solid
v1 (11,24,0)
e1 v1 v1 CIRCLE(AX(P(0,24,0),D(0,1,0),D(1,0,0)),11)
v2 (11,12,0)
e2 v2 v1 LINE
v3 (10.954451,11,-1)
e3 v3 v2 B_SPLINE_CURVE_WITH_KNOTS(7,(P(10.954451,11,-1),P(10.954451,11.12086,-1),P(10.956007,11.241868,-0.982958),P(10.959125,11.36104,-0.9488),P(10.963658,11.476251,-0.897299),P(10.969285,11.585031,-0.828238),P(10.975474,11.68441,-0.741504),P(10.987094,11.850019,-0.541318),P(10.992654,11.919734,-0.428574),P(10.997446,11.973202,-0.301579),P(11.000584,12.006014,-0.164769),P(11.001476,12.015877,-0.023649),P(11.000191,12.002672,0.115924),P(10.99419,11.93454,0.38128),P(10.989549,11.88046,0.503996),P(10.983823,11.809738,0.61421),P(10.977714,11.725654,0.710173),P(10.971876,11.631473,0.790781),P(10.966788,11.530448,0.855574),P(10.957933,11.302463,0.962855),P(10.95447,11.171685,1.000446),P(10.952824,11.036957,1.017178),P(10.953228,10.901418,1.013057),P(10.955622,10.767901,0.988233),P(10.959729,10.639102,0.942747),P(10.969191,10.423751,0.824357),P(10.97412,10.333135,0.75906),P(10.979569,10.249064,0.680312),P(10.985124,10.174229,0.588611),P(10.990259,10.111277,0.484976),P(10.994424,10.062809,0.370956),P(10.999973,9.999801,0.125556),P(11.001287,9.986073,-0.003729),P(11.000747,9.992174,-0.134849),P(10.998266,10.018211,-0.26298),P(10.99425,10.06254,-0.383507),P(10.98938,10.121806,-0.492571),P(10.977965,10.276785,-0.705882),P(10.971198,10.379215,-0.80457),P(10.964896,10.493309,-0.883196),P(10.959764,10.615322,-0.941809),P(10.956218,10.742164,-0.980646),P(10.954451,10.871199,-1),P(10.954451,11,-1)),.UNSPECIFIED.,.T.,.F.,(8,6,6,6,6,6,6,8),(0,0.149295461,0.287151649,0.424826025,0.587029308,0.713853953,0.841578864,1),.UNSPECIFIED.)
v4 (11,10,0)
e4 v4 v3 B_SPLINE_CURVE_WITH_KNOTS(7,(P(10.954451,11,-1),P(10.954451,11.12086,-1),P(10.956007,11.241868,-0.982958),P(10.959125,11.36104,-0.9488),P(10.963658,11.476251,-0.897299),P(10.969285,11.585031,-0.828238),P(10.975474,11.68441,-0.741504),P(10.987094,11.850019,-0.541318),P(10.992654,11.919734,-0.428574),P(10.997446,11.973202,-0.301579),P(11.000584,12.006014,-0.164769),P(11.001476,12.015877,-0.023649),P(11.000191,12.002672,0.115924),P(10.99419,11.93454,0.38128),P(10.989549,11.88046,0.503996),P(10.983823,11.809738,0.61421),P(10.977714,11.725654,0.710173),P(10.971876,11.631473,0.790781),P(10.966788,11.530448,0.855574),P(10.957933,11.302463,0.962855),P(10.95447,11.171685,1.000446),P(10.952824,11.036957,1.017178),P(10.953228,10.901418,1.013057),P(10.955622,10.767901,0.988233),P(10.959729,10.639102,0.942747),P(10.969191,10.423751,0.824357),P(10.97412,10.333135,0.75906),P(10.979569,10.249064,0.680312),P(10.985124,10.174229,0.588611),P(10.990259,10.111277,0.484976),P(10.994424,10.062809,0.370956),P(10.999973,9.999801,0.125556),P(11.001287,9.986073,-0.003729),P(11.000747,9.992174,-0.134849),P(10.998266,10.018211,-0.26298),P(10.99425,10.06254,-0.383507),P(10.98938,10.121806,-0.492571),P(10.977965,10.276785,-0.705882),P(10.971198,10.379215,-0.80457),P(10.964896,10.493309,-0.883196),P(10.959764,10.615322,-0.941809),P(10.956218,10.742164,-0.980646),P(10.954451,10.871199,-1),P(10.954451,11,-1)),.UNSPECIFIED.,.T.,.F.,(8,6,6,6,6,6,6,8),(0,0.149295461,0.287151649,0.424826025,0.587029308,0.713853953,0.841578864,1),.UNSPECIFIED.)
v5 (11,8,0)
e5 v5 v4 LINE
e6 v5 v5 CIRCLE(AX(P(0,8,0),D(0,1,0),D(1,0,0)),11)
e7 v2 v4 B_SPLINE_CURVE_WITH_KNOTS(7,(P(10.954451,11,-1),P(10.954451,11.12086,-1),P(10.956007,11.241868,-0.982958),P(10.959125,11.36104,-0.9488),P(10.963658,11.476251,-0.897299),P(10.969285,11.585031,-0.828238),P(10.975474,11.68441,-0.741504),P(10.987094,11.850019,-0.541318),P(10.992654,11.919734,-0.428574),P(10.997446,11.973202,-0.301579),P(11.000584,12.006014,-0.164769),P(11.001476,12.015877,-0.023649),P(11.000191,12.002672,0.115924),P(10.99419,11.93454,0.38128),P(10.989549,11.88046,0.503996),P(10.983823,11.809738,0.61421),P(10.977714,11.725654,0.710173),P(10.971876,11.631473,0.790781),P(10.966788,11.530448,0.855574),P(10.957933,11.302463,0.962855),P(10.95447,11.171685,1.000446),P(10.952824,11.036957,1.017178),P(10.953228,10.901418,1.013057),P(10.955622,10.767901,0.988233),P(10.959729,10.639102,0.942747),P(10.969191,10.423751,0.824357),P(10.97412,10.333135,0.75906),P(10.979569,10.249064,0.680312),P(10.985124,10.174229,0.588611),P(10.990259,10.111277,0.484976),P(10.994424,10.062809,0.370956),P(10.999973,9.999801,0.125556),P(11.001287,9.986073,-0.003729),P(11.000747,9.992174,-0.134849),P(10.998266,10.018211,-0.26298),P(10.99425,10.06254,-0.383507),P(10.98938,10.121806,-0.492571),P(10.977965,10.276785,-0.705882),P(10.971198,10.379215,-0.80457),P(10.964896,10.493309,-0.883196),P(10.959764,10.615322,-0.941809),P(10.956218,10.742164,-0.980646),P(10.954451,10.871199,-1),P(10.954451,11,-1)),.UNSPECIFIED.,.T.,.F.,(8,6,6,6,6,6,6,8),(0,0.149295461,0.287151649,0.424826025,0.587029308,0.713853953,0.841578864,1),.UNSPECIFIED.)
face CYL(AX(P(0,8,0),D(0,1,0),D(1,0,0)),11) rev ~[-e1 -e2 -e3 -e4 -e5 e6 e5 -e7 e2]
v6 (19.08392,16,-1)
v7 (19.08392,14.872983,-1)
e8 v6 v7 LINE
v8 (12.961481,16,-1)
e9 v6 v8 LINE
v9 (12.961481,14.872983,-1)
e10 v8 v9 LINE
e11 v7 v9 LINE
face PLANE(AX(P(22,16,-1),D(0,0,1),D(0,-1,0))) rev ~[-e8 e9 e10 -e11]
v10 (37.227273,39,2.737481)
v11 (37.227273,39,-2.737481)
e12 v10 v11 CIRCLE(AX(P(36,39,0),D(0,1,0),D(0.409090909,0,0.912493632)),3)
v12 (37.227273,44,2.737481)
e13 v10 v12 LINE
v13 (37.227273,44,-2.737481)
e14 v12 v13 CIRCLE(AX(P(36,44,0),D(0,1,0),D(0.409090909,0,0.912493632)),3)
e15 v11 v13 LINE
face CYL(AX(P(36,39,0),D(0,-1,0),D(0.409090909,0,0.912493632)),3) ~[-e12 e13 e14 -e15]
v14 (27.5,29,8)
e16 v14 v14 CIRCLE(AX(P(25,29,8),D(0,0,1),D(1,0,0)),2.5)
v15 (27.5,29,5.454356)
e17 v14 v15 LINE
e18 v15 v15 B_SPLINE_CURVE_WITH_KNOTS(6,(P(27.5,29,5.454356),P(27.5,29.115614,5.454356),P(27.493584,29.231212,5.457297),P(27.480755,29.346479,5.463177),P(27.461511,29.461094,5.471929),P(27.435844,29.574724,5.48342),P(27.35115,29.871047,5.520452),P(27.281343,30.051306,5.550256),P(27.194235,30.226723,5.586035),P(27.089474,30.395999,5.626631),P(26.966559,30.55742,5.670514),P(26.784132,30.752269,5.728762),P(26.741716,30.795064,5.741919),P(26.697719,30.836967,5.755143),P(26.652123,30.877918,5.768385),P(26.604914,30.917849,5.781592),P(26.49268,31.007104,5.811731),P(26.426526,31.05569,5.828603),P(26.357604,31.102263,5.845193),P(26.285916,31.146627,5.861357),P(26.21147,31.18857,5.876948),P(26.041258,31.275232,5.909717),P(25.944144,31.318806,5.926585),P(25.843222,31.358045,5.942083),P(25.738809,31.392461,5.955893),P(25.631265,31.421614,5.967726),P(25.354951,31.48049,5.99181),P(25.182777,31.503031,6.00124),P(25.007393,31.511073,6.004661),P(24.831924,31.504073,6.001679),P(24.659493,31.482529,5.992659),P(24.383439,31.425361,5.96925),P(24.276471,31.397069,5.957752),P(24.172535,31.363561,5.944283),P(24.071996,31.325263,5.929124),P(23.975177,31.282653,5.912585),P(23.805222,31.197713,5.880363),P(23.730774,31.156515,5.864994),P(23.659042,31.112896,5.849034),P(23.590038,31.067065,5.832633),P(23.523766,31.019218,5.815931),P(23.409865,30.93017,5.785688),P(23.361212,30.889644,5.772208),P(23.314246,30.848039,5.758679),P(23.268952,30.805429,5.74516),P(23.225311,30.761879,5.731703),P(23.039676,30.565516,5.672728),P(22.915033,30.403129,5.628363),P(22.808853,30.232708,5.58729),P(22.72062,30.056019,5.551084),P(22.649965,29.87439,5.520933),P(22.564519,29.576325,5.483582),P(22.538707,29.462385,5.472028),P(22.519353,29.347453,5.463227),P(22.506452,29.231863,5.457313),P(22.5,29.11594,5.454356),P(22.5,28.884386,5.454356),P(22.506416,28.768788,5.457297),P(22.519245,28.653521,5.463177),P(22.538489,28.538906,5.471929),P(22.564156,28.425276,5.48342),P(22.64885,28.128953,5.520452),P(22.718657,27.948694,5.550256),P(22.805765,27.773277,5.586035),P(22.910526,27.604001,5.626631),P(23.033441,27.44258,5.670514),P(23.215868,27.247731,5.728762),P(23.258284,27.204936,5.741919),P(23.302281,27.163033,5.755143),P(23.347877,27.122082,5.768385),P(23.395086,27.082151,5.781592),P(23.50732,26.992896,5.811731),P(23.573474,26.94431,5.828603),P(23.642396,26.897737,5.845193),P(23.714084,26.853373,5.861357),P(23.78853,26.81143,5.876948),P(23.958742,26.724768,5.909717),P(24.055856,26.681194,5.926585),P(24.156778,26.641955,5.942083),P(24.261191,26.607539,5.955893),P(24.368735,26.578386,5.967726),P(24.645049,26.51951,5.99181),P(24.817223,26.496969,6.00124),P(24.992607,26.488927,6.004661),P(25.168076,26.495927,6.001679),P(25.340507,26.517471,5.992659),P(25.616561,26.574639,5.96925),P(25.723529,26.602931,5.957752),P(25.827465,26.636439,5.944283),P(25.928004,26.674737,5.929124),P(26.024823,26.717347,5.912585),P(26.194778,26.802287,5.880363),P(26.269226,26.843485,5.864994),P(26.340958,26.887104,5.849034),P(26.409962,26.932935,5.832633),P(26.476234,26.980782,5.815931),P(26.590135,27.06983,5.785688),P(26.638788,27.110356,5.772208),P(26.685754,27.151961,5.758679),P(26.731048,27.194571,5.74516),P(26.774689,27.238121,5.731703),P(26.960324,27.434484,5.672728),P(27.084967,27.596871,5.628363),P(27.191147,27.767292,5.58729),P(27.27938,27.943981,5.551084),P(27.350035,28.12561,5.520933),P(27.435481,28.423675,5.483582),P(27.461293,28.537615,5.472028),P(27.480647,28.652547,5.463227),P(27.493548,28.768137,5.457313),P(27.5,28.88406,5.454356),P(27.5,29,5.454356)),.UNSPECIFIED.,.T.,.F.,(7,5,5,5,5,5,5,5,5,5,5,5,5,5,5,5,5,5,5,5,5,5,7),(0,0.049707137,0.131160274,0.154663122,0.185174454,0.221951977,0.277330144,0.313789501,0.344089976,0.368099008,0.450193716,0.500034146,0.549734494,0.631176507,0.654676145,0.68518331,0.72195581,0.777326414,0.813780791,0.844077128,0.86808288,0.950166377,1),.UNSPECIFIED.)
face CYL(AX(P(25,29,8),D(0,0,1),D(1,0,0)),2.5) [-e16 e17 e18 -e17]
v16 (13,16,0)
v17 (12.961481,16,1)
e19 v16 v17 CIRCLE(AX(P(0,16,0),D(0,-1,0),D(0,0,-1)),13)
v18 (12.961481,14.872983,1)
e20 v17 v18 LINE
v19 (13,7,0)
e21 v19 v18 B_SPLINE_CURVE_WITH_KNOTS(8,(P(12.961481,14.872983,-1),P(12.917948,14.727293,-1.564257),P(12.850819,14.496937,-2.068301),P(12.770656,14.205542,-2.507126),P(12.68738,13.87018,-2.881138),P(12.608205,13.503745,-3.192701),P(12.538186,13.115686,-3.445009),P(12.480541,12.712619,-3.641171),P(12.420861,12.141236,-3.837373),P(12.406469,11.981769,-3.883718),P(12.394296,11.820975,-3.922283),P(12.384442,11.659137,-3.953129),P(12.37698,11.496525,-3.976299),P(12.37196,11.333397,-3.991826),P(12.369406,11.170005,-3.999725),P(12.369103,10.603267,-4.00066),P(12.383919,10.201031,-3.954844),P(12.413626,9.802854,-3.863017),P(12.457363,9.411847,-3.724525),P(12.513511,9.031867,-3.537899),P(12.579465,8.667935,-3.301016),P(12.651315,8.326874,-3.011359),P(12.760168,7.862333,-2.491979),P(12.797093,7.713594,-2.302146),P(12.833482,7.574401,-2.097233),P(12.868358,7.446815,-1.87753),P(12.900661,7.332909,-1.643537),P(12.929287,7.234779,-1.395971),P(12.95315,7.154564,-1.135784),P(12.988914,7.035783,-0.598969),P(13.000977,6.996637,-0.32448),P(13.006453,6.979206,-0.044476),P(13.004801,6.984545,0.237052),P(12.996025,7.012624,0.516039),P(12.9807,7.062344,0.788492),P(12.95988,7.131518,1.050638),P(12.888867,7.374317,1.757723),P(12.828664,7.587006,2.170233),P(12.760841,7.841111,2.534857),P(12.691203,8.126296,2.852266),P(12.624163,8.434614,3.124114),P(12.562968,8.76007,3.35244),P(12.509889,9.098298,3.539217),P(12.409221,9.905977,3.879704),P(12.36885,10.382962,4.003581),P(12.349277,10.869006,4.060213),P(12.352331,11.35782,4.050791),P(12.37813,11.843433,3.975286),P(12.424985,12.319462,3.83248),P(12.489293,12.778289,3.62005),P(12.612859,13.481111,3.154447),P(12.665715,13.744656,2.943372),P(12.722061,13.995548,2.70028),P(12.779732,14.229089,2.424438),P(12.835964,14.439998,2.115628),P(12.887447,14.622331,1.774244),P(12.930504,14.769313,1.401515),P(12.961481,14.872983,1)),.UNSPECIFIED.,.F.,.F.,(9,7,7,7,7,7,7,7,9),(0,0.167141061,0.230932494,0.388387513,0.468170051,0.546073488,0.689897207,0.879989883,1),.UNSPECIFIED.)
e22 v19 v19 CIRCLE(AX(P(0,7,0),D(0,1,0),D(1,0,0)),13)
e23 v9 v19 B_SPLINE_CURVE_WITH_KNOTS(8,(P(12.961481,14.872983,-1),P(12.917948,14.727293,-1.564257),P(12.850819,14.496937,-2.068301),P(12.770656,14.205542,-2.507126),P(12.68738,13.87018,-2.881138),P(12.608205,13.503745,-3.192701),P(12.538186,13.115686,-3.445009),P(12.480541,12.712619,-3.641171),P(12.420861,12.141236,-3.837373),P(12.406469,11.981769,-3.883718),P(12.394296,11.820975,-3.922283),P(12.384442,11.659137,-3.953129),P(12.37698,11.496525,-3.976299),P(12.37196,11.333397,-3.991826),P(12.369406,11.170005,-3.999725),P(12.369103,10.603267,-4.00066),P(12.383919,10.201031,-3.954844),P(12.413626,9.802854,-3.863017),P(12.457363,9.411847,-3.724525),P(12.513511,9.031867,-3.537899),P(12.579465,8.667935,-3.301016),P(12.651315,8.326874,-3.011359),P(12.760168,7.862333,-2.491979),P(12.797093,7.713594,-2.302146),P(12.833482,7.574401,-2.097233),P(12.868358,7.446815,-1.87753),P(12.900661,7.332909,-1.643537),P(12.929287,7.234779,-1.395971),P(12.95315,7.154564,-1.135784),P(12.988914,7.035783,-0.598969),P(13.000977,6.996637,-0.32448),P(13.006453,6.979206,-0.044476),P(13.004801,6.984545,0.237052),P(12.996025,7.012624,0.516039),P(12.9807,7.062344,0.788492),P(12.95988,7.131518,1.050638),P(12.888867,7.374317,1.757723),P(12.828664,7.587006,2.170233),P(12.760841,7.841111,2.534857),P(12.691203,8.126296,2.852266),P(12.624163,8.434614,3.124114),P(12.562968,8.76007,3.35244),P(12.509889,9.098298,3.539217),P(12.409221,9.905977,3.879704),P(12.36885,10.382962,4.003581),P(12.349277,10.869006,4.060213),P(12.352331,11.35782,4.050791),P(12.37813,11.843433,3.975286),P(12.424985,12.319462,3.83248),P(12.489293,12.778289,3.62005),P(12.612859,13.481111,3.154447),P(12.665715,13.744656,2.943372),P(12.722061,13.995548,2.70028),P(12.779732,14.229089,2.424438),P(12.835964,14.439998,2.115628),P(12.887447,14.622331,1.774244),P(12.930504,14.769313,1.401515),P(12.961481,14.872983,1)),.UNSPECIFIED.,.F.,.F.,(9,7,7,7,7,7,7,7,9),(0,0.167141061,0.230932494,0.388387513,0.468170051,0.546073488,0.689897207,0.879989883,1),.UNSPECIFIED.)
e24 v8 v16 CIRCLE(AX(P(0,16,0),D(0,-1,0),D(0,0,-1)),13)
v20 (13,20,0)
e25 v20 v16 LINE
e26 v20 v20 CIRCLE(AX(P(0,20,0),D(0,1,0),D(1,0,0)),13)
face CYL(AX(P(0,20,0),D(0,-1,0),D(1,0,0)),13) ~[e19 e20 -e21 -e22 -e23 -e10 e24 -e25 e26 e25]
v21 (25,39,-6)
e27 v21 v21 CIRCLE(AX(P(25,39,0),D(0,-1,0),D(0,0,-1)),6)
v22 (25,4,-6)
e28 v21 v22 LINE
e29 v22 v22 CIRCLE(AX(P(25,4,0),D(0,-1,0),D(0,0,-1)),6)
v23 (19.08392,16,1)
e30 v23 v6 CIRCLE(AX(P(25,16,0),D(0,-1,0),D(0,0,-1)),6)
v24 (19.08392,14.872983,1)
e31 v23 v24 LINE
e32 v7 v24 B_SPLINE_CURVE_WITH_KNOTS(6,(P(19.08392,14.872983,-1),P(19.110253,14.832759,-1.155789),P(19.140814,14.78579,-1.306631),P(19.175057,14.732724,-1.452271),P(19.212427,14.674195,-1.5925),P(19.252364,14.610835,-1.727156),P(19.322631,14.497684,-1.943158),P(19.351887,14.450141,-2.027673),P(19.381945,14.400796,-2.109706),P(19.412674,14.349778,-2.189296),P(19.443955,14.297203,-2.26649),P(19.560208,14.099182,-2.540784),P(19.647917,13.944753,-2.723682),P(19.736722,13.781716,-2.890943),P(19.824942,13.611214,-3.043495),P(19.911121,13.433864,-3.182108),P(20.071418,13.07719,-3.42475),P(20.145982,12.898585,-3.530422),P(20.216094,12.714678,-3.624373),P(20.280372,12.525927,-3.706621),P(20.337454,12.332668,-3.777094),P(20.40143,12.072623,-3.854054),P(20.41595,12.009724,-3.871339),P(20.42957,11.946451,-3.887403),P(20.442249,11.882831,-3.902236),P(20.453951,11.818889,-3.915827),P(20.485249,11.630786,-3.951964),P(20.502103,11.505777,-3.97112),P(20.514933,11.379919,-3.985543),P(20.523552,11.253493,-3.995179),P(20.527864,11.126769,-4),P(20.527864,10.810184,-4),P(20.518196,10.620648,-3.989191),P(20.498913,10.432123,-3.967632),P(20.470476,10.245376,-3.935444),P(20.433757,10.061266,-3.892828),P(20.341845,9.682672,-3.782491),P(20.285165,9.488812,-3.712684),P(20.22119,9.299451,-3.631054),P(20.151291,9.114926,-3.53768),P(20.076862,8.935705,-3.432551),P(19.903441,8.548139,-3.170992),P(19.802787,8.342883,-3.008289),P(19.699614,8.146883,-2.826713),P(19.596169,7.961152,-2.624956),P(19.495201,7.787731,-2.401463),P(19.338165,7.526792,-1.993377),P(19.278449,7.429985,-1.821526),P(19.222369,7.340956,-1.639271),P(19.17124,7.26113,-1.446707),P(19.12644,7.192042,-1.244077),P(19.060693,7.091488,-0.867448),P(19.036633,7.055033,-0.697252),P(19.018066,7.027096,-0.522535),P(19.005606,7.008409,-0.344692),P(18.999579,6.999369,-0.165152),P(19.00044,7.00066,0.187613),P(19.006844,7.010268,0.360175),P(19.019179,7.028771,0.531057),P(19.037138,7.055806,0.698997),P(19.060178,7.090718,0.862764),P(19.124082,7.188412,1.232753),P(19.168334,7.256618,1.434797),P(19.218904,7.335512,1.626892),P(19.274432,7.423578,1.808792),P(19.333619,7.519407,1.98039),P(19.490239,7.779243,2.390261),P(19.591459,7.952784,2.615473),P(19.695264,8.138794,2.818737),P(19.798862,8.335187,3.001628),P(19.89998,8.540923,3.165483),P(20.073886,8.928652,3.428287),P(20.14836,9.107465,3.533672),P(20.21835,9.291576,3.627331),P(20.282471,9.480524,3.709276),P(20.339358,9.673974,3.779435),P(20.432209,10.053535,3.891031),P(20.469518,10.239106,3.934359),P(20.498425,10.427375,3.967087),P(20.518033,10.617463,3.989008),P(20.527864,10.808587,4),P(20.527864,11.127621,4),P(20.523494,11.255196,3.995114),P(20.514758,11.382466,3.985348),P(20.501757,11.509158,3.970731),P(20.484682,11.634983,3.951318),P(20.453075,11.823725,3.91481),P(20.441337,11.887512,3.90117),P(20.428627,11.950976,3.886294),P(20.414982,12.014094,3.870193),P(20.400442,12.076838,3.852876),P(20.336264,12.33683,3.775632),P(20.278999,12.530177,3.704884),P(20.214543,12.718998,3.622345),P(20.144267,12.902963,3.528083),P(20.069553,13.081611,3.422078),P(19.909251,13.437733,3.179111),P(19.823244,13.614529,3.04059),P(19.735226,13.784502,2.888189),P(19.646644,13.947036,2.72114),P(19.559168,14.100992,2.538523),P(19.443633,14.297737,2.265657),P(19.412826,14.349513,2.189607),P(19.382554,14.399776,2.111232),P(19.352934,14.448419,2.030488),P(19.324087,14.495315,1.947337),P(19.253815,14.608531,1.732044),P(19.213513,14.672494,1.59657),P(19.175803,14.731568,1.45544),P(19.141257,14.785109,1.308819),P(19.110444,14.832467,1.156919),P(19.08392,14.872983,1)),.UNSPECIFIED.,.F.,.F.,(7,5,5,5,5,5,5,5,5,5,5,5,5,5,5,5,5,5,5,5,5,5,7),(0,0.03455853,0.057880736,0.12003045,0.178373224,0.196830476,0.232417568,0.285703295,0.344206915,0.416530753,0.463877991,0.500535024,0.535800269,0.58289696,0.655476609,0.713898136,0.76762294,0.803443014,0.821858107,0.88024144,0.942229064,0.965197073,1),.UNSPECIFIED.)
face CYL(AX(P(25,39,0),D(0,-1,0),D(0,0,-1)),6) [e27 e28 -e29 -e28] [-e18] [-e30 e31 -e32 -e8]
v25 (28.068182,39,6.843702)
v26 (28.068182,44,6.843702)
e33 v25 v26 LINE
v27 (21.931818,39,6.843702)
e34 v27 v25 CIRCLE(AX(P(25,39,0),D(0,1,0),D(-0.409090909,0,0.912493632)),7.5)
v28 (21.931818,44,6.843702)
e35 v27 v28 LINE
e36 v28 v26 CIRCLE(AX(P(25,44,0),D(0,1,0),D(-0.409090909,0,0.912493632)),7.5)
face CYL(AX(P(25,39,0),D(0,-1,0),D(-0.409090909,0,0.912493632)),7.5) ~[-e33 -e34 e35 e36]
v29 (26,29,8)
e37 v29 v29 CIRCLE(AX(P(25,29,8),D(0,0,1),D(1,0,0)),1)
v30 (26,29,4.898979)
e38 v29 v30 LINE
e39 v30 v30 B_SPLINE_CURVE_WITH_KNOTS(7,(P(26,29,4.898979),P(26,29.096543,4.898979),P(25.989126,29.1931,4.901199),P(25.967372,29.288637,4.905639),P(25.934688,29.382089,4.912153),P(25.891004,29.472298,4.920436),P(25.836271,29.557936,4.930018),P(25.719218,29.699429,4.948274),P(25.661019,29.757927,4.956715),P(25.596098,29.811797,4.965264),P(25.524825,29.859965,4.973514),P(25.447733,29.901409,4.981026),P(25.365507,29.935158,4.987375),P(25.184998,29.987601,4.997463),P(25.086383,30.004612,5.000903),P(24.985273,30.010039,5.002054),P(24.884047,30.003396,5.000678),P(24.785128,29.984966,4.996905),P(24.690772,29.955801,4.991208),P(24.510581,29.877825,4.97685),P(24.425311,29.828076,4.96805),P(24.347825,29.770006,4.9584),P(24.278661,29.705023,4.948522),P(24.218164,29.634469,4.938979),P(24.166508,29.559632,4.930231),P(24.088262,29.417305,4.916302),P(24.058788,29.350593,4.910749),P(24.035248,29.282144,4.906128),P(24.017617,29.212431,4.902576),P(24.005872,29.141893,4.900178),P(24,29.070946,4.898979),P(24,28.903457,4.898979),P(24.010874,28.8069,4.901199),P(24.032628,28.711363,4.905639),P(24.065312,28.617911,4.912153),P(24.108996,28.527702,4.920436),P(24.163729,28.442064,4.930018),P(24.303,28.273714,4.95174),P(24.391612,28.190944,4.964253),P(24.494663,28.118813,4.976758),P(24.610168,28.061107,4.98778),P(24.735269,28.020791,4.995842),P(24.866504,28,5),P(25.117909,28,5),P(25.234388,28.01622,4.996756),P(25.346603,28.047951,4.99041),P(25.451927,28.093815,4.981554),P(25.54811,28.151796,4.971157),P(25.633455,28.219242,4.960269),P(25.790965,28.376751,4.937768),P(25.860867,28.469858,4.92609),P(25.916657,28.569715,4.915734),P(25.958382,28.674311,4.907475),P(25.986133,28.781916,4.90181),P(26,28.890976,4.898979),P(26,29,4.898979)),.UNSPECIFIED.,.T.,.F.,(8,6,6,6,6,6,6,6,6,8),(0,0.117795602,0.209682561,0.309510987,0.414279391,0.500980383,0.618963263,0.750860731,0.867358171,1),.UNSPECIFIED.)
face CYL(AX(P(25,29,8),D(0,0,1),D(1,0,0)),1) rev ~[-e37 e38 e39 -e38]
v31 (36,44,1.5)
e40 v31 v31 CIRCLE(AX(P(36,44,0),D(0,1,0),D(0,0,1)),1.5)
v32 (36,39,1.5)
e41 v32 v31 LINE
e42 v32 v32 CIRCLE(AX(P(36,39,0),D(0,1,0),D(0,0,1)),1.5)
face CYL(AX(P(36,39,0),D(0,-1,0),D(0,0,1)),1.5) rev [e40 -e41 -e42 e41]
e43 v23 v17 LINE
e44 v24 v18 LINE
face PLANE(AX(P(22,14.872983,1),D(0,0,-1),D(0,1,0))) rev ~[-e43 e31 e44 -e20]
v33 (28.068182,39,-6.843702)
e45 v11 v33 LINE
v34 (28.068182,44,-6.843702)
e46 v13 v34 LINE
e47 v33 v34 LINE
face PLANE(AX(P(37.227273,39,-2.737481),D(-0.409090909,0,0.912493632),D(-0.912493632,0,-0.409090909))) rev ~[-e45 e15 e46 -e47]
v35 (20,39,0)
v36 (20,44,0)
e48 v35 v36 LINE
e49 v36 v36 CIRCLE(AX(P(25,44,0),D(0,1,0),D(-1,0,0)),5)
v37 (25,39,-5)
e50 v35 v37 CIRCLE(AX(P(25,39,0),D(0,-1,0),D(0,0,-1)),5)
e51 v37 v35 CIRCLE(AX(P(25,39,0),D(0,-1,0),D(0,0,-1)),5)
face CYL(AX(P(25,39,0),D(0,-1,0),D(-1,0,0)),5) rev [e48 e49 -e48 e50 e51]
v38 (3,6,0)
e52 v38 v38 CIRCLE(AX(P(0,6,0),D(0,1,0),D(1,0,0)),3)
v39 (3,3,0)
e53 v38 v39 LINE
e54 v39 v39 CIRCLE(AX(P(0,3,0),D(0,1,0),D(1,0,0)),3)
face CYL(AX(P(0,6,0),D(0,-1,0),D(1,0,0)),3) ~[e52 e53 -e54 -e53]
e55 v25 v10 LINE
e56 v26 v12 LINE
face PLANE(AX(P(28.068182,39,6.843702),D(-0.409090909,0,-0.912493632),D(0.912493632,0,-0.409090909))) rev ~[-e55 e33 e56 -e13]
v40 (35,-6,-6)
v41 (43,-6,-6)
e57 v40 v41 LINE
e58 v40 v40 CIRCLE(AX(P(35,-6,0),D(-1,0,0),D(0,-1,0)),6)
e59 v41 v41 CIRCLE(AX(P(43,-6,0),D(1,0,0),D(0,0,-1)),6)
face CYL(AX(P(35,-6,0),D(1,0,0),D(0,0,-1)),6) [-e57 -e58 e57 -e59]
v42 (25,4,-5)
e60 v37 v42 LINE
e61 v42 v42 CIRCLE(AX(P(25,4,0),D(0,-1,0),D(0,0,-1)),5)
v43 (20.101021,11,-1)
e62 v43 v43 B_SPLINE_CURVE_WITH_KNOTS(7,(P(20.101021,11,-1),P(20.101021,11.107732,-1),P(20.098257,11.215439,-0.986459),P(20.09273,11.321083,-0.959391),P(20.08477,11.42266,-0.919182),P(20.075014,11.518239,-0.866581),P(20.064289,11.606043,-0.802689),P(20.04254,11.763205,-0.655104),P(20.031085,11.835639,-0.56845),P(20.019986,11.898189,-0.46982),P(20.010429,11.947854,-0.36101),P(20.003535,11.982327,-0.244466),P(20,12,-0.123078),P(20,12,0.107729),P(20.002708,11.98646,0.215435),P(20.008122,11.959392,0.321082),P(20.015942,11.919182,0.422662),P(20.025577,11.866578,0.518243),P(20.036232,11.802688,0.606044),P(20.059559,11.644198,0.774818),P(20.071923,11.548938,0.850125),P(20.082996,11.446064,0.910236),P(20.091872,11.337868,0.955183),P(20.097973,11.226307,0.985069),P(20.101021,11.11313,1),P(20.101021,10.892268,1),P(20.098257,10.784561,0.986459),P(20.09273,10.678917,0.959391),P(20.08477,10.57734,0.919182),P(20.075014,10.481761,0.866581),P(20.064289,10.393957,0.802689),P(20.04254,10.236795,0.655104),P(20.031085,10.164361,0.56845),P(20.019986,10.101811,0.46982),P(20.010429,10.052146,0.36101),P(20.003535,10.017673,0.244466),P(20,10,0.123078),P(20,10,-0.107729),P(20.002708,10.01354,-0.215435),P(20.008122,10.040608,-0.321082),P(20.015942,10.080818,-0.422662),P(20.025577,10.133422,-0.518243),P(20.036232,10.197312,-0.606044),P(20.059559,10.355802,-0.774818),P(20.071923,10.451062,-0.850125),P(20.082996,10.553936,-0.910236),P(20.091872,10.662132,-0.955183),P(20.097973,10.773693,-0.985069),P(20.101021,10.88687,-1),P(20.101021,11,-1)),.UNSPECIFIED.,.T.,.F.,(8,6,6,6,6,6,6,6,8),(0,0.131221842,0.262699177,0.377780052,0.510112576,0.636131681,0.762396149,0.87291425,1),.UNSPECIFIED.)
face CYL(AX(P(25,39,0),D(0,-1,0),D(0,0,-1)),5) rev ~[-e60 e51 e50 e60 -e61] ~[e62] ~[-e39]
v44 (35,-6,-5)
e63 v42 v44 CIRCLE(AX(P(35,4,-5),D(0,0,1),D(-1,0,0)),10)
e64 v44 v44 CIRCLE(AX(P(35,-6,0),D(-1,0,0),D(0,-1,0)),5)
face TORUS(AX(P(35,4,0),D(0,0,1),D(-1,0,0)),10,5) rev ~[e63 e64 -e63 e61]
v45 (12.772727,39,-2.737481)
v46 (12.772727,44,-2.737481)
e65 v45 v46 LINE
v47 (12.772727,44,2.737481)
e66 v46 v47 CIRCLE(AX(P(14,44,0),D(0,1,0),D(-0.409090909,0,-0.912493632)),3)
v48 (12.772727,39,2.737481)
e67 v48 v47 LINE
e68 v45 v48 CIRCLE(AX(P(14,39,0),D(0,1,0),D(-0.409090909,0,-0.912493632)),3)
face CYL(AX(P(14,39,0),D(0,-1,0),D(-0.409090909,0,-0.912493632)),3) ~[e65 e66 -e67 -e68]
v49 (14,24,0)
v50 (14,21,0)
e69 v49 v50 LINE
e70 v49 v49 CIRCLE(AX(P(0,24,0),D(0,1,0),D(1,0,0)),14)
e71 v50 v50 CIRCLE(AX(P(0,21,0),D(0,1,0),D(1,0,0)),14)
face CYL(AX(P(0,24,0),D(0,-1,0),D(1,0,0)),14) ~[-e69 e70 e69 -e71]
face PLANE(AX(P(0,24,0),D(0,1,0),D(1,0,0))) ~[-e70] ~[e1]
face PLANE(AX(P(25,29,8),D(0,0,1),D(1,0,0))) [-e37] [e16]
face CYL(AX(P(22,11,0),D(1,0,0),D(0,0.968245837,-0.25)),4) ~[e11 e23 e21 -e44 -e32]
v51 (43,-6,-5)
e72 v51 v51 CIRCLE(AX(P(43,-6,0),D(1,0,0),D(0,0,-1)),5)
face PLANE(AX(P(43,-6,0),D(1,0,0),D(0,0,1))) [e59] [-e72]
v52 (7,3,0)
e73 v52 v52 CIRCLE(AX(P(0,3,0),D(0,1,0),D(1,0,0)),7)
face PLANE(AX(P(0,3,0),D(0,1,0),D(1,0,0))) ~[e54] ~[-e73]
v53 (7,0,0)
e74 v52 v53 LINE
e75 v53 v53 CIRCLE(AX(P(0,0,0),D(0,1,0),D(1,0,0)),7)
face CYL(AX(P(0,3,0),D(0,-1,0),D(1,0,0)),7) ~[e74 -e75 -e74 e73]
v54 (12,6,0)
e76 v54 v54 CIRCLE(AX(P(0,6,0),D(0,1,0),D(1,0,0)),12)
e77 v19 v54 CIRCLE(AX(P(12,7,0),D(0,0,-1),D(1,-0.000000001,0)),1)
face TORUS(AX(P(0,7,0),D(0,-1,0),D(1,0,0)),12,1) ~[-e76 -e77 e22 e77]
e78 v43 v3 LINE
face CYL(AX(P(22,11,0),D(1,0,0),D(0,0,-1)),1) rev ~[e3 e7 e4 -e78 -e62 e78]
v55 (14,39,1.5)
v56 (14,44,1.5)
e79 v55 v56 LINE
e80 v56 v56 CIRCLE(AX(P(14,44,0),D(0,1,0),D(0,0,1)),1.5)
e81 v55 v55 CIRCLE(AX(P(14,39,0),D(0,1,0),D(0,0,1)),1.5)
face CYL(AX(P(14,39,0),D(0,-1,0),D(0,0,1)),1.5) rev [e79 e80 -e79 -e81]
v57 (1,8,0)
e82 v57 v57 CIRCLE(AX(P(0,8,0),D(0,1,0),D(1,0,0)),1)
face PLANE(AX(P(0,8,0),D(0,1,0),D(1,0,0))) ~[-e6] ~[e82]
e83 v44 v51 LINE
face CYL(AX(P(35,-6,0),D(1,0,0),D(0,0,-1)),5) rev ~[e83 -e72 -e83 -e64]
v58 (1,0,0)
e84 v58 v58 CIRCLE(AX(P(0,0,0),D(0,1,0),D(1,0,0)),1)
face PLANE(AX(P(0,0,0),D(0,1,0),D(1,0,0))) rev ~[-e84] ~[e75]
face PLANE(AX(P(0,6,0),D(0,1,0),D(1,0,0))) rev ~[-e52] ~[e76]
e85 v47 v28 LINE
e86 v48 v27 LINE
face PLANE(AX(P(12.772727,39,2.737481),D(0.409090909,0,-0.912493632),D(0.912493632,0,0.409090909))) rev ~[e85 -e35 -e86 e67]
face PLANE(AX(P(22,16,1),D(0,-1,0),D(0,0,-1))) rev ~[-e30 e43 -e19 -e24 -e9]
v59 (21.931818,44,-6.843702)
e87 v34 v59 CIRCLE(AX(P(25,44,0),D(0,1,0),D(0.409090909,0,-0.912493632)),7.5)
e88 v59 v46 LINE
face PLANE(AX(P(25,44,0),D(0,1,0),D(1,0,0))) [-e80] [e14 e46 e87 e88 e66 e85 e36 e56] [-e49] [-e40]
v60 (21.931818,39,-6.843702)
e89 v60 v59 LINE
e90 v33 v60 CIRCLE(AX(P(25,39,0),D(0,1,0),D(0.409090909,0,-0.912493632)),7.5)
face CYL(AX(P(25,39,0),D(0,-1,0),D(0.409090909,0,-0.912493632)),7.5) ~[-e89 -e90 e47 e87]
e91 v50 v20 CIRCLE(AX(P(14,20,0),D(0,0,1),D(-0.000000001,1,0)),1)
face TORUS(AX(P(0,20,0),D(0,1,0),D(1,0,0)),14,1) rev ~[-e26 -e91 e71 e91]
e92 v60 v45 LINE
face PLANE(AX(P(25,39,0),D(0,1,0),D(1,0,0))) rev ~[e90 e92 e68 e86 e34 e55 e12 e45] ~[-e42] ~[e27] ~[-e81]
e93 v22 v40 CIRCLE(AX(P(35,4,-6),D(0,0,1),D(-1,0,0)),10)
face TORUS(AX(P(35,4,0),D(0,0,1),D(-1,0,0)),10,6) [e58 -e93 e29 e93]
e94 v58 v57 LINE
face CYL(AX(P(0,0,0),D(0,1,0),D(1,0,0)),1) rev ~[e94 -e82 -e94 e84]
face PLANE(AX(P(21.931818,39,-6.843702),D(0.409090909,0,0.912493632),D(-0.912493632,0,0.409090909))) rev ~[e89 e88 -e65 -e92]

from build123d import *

# Parameters (mm, degrees)
BOSS_EXTRUDE1_REACH      = 38
BOSS_EXTRUDE1_END_RADIUS = 13
SWEEP1_PROFILE_R         = 6
CUT_SWEEP1_PROFILE_R     = 5
CUT_EXTRUDE7_REACH       = 38
CUT_EXTRUDE7_END_RADIUS  = 11
SKETCH111_R              = 1
SKETCH112_R              = 5
SKETCH112_R_2            = 1.5
BOSS_EXTRUDE2_DEPTH      = 5
BOSS_EXTRUDE3_REACH      = 24
BOSS_EXTRUDE3_END_RADIUS = 6
SKETCH113_R              = 2.5
CUT_EXTRUDE8_REACH       = 24
CUT_EXTRUDE8_END_RADIUS  = 5
SKETCH114_R              = 1


with BuildPart() as part:
    # Sketch1 → Revolve1 (revolve)
    with BuildSketch(Plane.XY):
        with BuildLine():
            Line((11, 8), (11, 24))
            Line((11, 24), (14, 24))
            Line((14, 24), (14, 21))
            ThreePointArc((14, 21), (13.292893219, 20.707106781), (13, 20))
            Line((13, 20), (13, 7))
            ThreePointArc((13, 7), (12.707106781, 6.292893219), (12, 6))
            Line((12, 6), (3, 6))
            Line((3, 6), (3, 3))
            Line((3, 3), (7, 3))
            Line((7, 3), (7, 0))
            Line((7, 0), (1, 0))
            Line((1, 0), (1, 8))
            Line((1, 8), (11, 8))
        make_face()
    revolve(axis=Axis((0, -17.809326976, 0), (0, 1, 0)))

    # Boss-Extrude1: up to this cylinder (the profile starts outside it)
    boss_extrude1_end = Plane(origin=(0, 11.178288, 0), z_dir=(0, -1, 0)) * Cylinder(BOSS_EXTRUDE1_END_RADIUS, 103, mode=Mode.PRIVATE)
    # Sketch43 → Boss-Extrude1 (add, up to the surface)
    with BuildSketch(Plane(origin=(22, 0, 0), x_dir=(0, 0, -1), z_dir=(1, 0, 0)), mode=Mode.PRIVATE) as boss_extrude1_sk1:
        with BuildLine():
            Line((-1, 16), (1, 16))
            Line((1, 16), (1, 14.872983346))
            ThreePointArc((1, 14.872983346), (0, 7), (-1, 14.872983346))
            Line((-1, 14.872983346), (-1, 16))
        make_face()
    boss_extrude1_tool1 = extrude(boss_extrude1_sk1.sketch, amount=-BOSS_EXTRUDE1_REACH, mode=Mode.PRIVATE) - boss_extrude1_end
    add(boss_extrude1_tool1.solids().sort_by_distance((22, 11.178288, 0))[0])

    # Sweep1: sweep along a path in Sketch45
    with BuildLine(Plane.XY) as sweep1_path:
        Line((25, 39), (25, 4))
        ThreePointArc((25, 4), (27.928932188, -3.071067812), (35, -6))
        Line((35, -6), (43, -6))
    # Sweep1 profile (on start of the path) → Sweep1 (sweep)
    with BuildSketch(Plane(origin=(25, 39, 0), x_dir=(0, 0, -1), z_dir=(0, -1, 0))):
        Circle(SWEEP1_PROFILE_R)
    sweep(path=sweep1_path.line)

    # Cut-Sweep1: sweep along a path in Sketch45_2
    with BuildLine(Plane.XY) as cut_sweep1_path:
        Line((25, 39), (25, 4))
        ThreePointArc((25, 4), (27.928932188, -3.071067812), (35, -6))
        Line((35, -6), (43, -6))
    # Cut-Sweep1 profile (on start of the path) → Cut-Sweep1 (sweep, cut)
    with BuildSketch(Plane(origin=(25, 39, 0), x_dir=(0, 0, -1), z_dir=(0, -1, 0))):
        Circle(CUT_SWEEP1_PROFILE_R)
    sweep(path=cut_sweep1_path.line, mode=Mode.SUBTRACT)

    # Cut-Extrude7: up to this cylinder (the profile starts outside it)
    cut_extrude7_end = Plane(origin=(0, 11, 0), z_dir=(0, -1, 0)) * Cylinder(CUT_EXTRUDE7_END_RADIUS, 99, mode=Mode.PRIVATE)
    # Sketch111 → Cut-Extrude7 (cut, up to the surface)
    with BuildSketch(Plane(origin=(22, 0, 0), x_dir=(0, 0, -1), z_dir=(1, 0, 0)), mode=Mode.PRIVATE) as cut_extrude7_sk1:
        with Locations((0, 11)):
            Circle(SKETCH111_R)
    cut_extrude7_tool1 = extrude(cut_extrude7_sk1.sketch, amount=-CUT_EXTRUDE7_REACH, mode=Mode.PRIVATE) - cut_extrude7_end
    add(cut_extrude7_tool1.solids().sort_by_distance((22, 11, 0))[0], mode=Mode.SUBTRACT)

    # Sketch112 → Boss-Extrude2 (add)
    with BuildSketch(Plane(origin=(0, 39, 0), x_dir=(1, 0, 0), z_dir=(0, 1, 0))):
        with BuildLine():
            Line((37.227272727, 2.737480895), (28.068181818, 6.843702239))
            ThreePointArc((28.068181818, 6.843702239), (25, 7.5), (21.931818182, 6.843702239))
            Line((21.931818182, 6.843702239), (12.772727273, 2.737480895))
            ThreePointArc((12.772727273, 2.737480895), (11, 0), (12.772727273, -2.737480895))
            Line((12.772727273, -2.737480895), (21.931818182, -6.843702239))
            ThreePointArc((21.931818182, -6.843702239), (25, -7.5), (28.068181818, -6.843702239))
            Line((28.068181818, -6.843702239), (37.227272727, -2.737480895))
            ThreePointArc((37.227272727, -2.737480895), (39, 0), (37.227272727, 2.737480895))
        make_face()
        with Locations(Location((25, 0, 0), (0, 0, 180))):  # turned: the seam where the file's is
            Circle(SKETCH112_R, mode=Mode.SUBTRACT)
        with Locations(Location((36, 0, 0), (0, 0, 270))):  # turned: the seam where the file's is
            Circle(SKETCH112_R_2, mode=Mode.SUBTRACT)
        with Locations(Location((14, 0, 0), (0, 0, 270))):  # turned: the seam where the file's is
            Circle(SKETCH112_R_2, mode=Mode.SUBTRACT)
    extrude(amount=BOSS_EXTRUDE2_DEPTH)

    # Boss-Extrude3: up to this cylinder (the profile starts outside it)
    boss_extrude3_end = Plane(origin=(25, 29, 0), z_dir=(0, -1, 0)) * Cylinder(BOSS_EXTRUDE3_END_RADIUS, 61, mode=Mode.PRIVATE)
    # Sketch113 → Boss-Extrude3 (add, up to the surface)
    with BuildSketch(Plane.XY.offset(8), mode=Mode.PRIVATE) as boss_extrude3_sk1:
        with Locations((25, 29)):
            Circle(SKETCH113_R)
    boss_extrude3_tool1 = extrude(boss_extrude3_sk1.sketch, amount=-BOSS_EXTRUDE3_REACH, mode=Mode.PRIVATE) - boss_extrude3_end
    add(boss_extrude3_tool1.solids().sort_by_distance((25, 29, 8))[0])

    # Cut-Extrude8: up to this cylinder (the profile starts outside it)
    cut_extrude8_end = Plane(origin=(25, 29, 0), z_dir=(0, -1, 0)) * Cylinder(CUT_EXTRUDE8_END_RADIUS, 59, mode=Mode.PRIVATE)
    # Sketch114 → Cut-Extrude8 (cut, up to the surface)
    with BuildSketch(Plane.XY.offset(8), mode=Mode.PRIVATE) as cut_extrude8_sk1:
        with Locations((25, 29)):
            Circle(SKETCH114_R)
    cut_extrude8_tool1 = extrude(cut_extrude8_sk1.sketch, amount=-CUT_EXTRUDE8_REACH, mode=Mode.PRIVATE) - cut_extrude8_end
    add(cut_extrude8_tool1.solids().sort_by_distance((25, 29, 8))[0], mode=Mode.SUBTRACT)


solid = part.part
